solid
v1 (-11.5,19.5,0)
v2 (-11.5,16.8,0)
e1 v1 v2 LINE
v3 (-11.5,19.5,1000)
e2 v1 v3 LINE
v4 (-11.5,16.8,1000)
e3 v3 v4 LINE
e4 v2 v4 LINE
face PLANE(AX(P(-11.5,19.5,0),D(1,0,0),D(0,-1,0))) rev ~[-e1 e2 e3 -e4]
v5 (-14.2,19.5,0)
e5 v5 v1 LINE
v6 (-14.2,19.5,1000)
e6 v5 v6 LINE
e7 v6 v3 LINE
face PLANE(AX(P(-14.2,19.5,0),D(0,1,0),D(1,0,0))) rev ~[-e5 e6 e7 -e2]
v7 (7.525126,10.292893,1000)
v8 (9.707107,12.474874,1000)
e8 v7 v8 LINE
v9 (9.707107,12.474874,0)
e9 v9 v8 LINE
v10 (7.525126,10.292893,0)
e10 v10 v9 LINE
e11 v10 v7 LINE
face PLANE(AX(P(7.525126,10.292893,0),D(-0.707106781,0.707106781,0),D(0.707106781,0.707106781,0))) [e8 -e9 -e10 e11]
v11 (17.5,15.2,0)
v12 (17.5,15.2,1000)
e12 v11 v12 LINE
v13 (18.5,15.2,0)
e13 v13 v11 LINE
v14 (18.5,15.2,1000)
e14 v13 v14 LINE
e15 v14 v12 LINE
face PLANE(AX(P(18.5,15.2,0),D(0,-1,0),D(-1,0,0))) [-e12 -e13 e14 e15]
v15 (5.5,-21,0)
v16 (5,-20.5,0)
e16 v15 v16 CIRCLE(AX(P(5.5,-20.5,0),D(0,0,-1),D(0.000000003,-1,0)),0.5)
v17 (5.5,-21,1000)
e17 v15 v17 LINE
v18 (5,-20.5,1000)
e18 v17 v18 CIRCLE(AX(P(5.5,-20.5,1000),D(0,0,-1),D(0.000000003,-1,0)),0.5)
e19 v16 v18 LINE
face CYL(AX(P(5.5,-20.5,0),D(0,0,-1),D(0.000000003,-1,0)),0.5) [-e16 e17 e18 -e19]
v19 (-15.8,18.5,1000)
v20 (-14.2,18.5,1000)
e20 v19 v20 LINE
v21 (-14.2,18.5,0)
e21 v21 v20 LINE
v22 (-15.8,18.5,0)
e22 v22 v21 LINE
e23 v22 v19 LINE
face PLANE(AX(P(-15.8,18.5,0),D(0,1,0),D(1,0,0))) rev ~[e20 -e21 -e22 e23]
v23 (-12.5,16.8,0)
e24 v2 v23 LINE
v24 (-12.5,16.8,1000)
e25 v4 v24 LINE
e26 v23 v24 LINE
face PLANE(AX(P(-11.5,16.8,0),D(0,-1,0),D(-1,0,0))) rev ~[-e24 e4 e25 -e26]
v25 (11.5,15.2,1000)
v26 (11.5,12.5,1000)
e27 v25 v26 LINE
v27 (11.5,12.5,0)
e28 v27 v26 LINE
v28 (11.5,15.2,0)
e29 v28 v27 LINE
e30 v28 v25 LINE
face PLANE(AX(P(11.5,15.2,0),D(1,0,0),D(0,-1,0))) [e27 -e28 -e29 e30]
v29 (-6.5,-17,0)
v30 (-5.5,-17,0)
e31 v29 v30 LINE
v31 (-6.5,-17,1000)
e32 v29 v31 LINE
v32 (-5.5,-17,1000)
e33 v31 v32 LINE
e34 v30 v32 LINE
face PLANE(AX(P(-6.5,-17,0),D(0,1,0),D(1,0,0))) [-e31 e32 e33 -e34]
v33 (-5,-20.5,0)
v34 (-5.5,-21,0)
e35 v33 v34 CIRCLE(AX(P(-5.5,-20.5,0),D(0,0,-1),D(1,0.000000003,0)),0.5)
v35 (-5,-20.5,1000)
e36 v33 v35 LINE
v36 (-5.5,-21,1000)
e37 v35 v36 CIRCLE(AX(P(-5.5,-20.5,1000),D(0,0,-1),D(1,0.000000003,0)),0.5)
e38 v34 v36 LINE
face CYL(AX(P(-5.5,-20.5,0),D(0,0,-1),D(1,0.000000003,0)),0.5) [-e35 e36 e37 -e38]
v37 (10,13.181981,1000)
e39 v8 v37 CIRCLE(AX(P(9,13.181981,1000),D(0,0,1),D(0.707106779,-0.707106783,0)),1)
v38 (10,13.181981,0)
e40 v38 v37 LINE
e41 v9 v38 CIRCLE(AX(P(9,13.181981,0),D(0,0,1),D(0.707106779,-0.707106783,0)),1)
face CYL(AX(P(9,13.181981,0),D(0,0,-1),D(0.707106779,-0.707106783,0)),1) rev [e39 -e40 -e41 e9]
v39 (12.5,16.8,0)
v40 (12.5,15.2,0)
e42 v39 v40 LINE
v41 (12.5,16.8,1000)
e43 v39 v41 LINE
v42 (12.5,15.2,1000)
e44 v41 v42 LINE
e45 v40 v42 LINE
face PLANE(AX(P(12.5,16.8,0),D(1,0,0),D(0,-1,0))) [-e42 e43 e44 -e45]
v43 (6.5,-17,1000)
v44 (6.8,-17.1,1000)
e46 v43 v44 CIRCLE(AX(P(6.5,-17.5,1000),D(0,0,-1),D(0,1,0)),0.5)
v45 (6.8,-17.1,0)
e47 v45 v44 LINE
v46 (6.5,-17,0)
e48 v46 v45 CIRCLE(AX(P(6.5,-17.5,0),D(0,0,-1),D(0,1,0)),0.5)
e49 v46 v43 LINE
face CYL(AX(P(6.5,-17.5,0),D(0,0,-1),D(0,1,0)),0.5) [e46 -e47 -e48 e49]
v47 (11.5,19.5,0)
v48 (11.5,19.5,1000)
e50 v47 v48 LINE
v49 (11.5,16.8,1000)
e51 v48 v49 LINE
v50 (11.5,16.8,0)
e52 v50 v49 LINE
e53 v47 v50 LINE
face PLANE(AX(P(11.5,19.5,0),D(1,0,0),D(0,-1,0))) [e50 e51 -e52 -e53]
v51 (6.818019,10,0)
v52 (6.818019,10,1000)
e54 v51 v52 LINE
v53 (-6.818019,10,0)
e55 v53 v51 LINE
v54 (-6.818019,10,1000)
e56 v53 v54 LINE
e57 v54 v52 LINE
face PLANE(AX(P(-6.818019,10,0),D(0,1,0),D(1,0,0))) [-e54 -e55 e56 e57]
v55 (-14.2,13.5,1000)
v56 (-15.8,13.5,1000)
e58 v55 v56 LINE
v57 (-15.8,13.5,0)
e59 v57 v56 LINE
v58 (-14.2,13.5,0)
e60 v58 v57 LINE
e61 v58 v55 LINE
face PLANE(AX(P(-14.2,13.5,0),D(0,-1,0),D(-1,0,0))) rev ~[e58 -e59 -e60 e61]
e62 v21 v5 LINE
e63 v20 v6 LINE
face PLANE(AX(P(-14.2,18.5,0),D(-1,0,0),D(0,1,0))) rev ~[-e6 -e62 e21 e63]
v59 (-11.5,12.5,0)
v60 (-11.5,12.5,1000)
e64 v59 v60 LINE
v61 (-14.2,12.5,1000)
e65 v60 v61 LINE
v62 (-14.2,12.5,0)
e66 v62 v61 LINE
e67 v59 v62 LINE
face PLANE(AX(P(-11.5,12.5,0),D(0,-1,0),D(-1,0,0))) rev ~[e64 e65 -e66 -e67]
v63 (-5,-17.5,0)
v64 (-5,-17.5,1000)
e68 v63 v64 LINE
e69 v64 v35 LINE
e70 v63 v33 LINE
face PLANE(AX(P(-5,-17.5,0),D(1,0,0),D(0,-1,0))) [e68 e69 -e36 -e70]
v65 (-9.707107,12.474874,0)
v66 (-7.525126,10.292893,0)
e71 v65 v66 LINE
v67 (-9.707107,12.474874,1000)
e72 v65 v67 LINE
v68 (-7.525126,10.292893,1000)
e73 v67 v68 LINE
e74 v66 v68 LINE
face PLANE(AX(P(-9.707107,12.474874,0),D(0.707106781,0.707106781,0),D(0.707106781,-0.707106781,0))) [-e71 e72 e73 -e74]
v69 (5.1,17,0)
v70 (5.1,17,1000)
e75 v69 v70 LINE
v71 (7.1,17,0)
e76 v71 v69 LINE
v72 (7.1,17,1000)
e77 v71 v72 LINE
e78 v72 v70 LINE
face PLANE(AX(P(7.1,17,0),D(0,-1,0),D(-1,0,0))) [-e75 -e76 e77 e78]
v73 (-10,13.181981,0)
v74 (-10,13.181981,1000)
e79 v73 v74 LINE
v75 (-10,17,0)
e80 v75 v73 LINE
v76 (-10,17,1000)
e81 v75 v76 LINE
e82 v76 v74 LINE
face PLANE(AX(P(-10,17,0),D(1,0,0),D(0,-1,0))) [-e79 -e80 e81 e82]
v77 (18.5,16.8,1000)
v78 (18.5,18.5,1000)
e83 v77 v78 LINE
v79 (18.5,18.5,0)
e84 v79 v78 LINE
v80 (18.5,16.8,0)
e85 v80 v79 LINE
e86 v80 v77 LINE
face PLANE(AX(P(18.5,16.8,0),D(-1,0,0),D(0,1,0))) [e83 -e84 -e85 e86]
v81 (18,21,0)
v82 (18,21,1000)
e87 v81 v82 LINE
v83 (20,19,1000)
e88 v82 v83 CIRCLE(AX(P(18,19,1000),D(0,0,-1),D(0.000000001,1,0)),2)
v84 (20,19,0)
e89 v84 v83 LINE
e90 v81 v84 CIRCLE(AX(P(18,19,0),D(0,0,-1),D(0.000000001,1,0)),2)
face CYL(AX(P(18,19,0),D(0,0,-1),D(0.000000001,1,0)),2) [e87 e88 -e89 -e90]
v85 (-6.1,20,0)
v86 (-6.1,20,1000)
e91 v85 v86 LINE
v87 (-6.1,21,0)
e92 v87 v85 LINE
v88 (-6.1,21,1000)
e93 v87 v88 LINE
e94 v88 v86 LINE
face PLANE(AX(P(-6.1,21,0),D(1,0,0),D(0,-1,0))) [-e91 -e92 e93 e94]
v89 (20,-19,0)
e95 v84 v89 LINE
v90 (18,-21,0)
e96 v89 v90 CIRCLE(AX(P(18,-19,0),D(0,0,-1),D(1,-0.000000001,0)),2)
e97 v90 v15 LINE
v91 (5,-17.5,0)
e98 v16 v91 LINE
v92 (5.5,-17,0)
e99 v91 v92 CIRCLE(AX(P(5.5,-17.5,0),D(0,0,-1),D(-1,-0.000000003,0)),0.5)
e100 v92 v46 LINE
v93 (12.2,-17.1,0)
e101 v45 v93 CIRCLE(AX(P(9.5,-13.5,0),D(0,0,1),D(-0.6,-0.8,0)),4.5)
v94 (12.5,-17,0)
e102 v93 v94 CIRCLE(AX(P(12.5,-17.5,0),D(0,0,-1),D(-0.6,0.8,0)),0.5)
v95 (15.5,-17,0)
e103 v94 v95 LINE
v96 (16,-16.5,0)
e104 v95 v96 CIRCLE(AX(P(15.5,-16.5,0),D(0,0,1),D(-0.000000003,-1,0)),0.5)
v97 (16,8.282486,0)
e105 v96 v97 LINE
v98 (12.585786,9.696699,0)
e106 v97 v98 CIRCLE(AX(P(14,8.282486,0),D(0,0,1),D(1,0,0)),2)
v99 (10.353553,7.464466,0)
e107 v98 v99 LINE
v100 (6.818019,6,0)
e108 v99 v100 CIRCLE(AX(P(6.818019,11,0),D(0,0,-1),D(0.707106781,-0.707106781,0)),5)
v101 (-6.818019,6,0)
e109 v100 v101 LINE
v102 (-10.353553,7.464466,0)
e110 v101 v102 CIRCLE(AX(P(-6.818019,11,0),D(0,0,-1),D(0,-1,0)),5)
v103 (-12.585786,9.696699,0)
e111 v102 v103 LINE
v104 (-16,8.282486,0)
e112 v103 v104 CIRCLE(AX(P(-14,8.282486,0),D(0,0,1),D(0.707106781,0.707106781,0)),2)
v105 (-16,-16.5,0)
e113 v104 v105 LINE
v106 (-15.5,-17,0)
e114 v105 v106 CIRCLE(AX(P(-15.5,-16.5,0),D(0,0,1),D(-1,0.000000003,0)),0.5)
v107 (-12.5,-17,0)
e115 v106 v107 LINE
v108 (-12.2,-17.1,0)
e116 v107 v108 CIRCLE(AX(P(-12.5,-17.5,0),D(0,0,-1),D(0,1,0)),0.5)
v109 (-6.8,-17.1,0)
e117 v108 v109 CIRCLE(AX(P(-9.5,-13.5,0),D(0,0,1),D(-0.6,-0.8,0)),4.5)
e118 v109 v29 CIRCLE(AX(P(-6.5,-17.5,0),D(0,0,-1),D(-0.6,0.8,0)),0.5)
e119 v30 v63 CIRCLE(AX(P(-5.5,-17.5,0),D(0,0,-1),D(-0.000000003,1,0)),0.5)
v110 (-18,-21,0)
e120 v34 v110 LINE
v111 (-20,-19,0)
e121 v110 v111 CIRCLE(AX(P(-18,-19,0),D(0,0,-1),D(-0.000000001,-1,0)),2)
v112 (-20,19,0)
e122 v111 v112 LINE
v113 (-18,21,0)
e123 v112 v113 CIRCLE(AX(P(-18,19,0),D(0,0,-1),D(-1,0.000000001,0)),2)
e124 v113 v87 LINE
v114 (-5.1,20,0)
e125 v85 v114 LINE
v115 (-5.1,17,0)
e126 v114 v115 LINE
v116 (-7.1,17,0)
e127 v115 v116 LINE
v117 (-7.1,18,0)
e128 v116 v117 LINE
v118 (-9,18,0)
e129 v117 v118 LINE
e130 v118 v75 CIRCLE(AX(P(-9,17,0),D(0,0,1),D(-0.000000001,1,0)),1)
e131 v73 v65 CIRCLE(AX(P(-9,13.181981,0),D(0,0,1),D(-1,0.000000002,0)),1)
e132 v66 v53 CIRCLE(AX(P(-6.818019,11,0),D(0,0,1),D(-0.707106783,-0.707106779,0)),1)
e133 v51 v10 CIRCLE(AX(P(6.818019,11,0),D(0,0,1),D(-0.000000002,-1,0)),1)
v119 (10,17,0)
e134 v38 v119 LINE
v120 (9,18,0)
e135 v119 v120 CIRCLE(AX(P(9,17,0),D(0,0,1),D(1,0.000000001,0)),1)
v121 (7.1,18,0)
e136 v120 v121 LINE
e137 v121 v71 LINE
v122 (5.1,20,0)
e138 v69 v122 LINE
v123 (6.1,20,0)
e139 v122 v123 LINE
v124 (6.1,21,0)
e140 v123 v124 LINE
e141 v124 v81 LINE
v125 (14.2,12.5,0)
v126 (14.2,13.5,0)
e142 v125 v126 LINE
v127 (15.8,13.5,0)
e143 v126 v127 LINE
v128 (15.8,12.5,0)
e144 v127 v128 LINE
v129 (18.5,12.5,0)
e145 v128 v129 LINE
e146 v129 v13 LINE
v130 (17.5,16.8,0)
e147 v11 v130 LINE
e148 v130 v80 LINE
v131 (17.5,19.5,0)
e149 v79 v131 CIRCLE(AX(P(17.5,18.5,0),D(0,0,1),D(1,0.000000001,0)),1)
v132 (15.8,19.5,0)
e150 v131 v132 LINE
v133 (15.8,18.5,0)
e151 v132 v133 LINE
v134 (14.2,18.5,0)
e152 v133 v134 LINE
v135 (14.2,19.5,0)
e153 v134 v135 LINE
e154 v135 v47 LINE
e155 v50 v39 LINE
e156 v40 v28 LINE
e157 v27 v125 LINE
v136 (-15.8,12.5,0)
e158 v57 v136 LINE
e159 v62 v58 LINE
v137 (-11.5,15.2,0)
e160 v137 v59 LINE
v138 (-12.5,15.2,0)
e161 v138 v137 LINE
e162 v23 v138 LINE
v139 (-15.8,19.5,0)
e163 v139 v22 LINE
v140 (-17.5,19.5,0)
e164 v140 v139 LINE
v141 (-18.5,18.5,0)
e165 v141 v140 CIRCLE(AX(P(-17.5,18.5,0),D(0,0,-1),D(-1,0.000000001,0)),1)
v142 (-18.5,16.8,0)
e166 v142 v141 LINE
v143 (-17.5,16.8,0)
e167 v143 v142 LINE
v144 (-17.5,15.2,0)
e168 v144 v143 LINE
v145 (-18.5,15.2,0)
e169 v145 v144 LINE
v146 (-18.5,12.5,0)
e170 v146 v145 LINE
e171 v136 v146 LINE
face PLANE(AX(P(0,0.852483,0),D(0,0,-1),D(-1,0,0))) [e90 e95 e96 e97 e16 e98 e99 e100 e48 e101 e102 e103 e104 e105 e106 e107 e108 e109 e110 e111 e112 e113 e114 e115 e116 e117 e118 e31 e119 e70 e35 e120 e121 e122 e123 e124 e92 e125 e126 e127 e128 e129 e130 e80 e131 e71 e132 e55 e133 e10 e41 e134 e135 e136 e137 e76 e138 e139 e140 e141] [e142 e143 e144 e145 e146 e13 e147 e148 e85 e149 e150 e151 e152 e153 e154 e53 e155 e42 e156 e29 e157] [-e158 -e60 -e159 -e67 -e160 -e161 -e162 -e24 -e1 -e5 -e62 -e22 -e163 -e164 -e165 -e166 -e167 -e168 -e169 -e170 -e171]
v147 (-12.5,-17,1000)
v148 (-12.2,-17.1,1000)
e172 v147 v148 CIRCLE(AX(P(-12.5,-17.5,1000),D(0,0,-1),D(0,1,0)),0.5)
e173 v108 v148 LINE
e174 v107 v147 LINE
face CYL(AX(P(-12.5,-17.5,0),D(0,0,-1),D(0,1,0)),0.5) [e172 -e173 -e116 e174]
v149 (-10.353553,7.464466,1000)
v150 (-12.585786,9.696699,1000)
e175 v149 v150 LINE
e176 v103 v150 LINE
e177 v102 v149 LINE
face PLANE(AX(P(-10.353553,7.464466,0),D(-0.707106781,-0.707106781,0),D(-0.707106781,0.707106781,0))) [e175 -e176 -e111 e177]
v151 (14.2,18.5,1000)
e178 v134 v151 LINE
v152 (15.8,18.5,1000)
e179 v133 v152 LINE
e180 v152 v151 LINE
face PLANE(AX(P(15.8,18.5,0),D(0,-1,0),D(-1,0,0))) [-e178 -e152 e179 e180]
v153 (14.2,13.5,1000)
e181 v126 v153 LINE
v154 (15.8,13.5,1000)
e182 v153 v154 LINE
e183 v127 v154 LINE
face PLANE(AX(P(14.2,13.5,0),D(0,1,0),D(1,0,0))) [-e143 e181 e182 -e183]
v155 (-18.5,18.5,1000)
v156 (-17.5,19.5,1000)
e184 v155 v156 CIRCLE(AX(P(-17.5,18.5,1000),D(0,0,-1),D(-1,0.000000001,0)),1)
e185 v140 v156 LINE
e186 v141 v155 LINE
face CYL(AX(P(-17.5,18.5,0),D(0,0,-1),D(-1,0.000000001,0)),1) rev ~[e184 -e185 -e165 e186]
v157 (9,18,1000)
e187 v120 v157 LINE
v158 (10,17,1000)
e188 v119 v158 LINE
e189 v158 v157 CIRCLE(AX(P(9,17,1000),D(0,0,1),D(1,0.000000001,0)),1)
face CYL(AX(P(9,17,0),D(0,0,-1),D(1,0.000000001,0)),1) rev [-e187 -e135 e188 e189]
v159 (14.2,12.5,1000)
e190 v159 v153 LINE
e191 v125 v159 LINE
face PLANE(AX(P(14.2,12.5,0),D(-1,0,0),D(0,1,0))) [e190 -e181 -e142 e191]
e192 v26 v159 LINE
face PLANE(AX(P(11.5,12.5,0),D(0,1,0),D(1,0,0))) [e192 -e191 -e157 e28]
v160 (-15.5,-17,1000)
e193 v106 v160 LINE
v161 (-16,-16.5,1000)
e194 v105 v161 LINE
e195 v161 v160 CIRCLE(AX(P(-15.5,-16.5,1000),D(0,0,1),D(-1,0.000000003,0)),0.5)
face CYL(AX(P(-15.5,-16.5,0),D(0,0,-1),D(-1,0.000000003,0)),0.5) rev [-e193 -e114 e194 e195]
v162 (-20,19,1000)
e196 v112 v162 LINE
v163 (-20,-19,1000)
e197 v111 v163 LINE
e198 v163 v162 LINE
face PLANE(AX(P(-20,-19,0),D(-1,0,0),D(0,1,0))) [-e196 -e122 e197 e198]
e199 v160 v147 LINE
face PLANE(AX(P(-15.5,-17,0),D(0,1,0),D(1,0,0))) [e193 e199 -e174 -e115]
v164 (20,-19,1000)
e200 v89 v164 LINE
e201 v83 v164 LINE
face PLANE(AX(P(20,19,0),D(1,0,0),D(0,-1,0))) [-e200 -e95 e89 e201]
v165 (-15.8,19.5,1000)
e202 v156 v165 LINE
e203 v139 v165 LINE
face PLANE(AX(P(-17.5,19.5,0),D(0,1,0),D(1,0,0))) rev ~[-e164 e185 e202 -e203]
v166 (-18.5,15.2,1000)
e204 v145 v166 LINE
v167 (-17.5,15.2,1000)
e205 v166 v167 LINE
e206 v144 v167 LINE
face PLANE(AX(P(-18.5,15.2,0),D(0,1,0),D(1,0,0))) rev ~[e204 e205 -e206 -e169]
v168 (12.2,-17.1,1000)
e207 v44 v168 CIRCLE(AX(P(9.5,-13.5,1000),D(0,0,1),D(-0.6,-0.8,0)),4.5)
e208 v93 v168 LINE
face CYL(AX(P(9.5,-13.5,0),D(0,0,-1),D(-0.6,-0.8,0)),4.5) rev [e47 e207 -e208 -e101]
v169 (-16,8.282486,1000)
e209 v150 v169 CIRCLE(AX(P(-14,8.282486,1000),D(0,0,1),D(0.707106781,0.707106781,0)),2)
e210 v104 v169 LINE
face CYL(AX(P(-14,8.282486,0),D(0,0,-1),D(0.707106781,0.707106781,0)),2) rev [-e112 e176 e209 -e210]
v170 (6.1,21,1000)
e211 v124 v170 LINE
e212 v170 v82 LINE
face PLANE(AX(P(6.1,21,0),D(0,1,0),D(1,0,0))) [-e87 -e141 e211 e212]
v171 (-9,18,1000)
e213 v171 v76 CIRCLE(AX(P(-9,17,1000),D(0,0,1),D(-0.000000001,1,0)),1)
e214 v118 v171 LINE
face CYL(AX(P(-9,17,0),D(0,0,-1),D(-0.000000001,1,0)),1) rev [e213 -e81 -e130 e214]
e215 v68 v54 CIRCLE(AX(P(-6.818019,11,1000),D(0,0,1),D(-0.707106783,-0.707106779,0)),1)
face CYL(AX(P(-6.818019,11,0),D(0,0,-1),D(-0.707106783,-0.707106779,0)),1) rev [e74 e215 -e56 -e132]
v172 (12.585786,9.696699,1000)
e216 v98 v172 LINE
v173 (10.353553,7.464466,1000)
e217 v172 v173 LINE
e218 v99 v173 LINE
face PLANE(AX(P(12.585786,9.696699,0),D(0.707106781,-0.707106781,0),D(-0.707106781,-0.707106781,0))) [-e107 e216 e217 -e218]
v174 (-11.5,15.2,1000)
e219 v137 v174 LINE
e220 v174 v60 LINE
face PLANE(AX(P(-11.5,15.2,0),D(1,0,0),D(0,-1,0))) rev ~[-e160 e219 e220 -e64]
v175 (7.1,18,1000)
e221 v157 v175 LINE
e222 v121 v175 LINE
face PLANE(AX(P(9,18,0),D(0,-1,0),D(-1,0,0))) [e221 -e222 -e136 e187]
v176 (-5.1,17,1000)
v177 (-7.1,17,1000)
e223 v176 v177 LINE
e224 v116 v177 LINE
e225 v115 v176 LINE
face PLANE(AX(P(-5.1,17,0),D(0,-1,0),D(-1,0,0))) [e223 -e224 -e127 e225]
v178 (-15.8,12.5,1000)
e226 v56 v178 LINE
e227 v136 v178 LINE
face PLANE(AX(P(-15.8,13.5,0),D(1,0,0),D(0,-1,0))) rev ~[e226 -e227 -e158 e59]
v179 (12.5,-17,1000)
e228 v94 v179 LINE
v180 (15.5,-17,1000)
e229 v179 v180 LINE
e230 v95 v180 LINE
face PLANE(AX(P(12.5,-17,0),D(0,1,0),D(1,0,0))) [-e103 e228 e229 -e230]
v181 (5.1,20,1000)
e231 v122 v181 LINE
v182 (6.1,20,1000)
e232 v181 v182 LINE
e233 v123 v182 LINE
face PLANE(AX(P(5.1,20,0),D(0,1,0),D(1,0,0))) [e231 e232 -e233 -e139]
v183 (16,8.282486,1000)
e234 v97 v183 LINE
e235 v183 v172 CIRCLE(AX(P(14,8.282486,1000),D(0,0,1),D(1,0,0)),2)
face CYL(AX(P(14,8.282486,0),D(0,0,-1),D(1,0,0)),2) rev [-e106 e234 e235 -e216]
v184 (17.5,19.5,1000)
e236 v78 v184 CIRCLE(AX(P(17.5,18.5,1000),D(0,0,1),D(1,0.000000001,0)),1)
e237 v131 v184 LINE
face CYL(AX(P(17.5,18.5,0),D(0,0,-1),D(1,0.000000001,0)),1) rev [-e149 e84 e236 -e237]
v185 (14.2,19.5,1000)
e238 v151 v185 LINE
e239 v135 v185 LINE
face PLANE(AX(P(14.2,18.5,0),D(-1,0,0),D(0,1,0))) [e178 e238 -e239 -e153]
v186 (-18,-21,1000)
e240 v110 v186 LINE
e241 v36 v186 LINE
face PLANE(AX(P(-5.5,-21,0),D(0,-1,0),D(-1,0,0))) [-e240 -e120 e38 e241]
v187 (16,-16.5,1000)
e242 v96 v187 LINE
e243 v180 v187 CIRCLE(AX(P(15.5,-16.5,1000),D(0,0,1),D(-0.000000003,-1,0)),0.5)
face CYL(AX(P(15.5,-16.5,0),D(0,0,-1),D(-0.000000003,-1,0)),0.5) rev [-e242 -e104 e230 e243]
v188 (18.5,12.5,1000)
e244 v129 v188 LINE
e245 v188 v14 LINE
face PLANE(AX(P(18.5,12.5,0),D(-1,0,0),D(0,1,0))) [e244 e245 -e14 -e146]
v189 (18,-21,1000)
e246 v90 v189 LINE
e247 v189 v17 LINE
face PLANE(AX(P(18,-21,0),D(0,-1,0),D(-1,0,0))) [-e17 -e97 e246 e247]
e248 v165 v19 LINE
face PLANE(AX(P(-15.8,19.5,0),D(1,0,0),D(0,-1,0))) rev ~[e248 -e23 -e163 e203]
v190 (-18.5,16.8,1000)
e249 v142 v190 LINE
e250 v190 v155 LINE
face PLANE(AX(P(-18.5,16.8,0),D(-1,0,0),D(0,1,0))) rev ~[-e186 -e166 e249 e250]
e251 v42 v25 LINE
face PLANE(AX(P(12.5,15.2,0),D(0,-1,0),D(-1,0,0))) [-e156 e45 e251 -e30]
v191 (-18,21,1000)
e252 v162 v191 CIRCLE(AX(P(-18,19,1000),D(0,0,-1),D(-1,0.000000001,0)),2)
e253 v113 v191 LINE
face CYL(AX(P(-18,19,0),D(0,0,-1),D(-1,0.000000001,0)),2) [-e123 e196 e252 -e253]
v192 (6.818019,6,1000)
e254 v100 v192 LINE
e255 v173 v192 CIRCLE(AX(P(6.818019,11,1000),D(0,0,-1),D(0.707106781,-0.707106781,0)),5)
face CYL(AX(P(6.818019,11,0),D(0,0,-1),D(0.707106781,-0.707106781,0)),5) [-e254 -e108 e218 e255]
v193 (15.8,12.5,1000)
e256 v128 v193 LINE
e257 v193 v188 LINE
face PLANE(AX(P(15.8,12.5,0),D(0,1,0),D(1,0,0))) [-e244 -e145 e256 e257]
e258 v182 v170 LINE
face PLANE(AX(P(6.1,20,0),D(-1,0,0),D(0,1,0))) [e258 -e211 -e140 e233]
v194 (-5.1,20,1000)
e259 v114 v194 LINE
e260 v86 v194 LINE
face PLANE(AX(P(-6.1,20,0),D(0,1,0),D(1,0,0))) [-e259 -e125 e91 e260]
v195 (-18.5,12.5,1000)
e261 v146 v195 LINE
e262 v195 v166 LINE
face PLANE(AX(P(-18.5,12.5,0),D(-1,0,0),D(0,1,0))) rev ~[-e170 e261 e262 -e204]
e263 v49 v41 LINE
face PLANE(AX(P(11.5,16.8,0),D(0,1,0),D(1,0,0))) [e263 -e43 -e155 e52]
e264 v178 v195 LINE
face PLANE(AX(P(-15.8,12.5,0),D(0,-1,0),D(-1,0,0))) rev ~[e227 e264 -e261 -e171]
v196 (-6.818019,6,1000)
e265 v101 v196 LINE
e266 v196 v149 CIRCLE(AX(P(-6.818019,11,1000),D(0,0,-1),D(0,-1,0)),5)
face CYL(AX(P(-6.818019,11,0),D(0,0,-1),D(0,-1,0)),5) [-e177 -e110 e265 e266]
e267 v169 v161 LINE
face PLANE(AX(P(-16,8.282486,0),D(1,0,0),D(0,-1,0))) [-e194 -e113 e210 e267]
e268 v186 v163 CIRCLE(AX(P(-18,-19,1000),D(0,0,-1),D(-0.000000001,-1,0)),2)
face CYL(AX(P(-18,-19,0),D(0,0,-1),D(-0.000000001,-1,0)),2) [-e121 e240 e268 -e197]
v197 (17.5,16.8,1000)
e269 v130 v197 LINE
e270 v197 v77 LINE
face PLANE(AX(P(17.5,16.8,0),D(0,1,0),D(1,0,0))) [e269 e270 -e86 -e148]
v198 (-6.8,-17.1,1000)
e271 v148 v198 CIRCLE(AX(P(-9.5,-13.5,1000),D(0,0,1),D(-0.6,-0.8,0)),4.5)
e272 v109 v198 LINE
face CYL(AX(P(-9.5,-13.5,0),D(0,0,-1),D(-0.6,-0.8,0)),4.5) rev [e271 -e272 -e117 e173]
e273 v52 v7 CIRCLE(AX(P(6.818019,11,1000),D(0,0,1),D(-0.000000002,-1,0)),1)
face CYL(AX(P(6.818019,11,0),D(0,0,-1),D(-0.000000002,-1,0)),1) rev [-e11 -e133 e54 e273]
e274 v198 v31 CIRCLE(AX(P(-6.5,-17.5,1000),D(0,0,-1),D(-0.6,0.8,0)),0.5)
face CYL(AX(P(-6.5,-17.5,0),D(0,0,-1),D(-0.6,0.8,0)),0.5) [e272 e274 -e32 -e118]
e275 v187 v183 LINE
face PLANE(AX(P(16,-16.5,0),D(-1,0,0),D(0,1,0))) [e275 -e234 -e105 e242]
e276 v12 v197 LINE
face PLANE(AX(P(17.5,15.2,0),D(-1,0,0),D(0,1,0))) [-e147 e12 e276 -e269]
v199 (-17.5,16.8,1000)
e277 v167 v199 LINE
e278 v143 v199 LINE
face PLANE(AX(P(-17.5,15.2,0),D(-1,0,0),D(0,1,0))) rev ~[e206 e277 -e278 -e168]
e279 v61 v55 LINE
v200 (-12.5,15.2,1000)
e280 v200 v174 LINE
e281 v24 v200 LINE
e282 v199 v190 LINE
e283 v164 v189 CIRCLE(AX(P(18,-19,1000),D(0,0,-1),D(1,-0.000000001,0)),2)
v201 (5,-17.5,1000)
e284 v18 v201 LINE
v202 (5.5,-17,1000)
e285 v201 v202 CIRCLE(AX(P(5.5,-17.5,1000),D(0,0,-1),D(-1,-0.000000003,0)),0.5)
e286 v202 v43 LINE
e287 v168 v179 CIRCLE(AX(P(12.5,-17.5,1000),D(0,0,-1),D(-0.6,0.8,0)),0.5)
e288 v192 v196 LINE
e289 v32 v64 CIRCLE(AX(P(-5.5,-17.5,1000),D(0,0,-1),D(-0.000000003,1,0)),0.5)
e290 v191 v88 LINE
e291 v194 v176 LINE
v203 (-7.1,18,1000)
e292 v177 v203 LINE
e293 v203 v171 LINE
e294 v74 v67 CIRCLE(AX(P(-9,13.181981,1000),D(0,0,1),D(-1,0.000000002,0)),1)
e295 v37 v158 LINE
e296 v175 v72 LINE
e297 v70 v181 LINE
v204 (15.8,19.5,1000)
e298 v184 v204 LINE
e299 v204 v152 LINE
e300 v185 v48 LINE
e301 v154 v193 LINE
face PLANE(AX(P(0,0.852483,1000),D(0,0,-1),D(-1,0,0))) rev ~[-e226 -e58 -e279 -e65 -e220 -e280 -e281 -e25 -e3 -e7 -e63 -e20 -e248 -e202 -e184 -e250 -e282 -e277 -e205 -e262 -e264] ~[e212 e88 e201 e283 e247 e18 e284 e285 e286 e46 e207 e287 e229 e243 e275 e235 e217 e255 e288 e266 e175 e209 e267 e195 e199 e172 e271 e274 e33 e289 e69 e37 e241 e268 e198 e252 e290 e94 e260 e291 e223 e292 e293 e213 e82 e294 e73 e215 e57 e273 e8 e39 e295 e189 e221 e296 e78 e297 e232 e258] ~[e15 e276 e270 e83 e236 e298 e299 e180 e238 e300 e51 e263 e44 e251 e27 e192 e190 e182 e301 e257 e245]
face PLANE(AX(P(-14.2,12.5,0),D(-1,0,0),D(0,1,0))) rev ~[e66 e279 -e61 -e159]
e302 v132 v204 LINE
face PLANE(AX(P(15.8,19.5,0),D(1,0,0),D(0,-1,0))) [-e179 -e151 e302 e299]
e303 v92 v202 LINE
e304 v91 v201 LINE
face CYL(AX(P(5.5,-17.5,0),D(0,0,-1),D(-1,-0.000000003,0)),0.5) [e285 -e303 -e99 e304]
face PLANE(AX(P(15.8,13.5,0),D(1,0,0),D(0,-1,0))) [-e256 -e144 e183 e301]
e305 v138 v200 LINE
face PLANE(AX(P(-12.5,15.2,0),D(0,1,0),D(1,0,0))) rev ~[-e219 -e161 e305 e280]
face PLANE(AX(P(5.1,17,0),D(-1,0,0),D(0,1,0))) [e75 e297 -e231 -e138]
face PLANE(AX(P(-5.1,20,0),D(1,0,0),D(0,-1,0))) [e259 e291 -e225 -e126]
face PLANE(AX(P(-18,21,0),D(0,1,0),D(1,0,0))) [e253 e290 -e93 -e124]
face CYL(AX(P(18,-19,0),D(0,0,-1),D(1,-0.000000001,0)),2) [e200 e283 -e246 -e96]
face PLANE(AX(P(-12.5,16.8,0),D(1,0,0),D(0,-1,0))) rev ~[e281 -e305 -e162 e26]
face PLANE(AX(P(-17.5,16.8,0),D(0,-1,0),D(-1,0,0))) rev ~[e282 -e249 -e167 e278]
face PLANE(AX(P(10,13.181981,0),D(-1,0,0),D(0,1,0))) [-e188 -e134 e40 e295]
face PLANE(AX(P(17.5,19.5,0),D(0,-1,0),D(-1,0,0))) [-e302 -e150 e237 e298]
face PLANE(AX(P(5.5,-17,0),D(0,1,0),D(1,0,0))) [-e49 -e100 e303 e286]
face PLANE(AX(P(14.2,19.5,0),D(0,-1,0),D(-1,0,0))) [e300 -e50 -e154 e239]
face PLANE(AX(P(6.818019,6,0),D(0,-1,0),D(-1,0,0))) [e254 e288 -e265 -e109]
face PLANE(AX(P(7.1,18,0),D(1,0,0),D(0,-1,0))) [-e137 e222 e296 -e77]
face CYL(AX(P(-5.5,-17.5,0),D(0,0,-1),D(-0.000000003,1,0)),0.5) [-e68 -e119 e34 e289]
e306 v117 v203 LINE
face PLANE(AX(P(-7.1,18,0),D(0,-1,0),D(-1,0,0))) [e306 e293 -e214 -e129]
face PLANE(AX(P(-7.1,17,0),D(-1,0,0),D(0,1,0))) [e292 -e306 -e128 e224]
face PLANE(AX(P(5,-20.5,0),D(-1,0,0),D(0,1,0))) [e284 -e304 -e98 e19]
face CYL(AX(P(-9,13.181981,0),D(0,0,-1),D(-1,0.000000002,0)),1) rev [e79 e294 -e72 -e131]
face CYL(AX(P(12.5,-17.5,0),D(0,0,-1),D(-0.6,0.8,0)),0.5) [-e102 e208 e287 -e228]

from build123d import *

# Parameters (mm, degrees)
EXTRUDE_1_DEPTH = 1000


with BuildPart() as part:
    # Эскиз1 → Бобышка-Вытянуть1 (new body)
    with BuildSketch(Plane.XY):
        with BuildLine():
            Line((-15.5, -17), (-12.5, -17))
            ThreePointArc((-12.5, -17), (-12.341886117, -17.025658351), (-12.2, -17.1))
            ThreePointArc((-12.2, -17.1), (-9.5, -18), (-6.8, -17.1))
            ThreePointArc((-6.8, -17.1), (-6.658113883, -17.025658351), (-6.5, -17))
            Line((-6.5, -17), (-5.5, -17))
            ThreePointArc((-5.5, -17), (-5.146446609, -17.146446609), (-5, -17.5))
            Line((-5, -17.5), (-5, -20.5))
            ThreePointArc((-5, -20.5), (-5.146446609, -20.853553391), (-5.5, -21))
            Line((-5.5, -21), (-18, -21))
            ThreePointArc((-18, -21), (-19.414213562, -20.414213562), (-20, -19))
            Line((-20, -19), (-20, 19))
            ThreePointArc((-20, 19), (-19.414213562, 20.414213562), (-18, 21))
            Line((-18, 21), (-6.1, 21))
            Line((-6.1, 21), (-6.1, 20))
            Line((-6.1, 20), (-5.1, 20))
            Line((-5.1, 20), (-5.1, 17))
            Line((-5.1, 17), (-7.1, 17))
            Line((-7.1, 17), (-7.1, 18))
            Line((-7.1, 18), (-9, 18))
            ThreePointArc((-9, 18), (-9.707106781, 17.707106781), (-10, 17))
            Line((-10, 17), (-10, 13.181980515))
            ThreePointArc((-10, 13.181980515), (-9.923879533, 12.799297083), (-9.707106781, 12.474873734))
            Line((-9.707106781, 12.474873734), (-7.525126266, 10.292893219))
            ThreePointArc((-7.525126266, 10.292893219), (-7.200702917, 10.076120467), (-6.818019485, 10))
            Line((-6.818019485, 10), (6.818019485, 10))
            ThreePointArc((6.818019485, 10), (7.200702917, 10.076120467), (7.525126266, 10.292893219))
            Line((7.525126266, 10.292893219), (9.707106781, 12.474873734))
            ThreePointArc((9.707106781, 12.474873734), (9.923879533, 12.799297083), (10, 13.181980515))
            Line((10, 13.181980515), (10, 17))
            ThreePointArc((10, 17), (9.707106781, 17.707106781), (9, 18))
            Line((9, 18), (7.1, 18))
            Line((7.1, 18), (7.1, 17))
            Line((7.1, 17), (5.1, 17))
            Line((5.1, 17), (5.1, 20))
            Line((5.1, 20), (6.1, 20))
            Line((6.1, 20), (6.1, 21))
            Line((6.1, 21), (18, 21))
            ThreePointArc((18, 21), (19.414213562, 20.414213562), (20, 19))
            Line((20, 19), (20, -19))
            ThreePointArc((20, -19), (19.414213562, -20.414213562), (18, -21))
            Line((18, -21), (5.5, -21))
            ThreePointArc((5.5, -21), (5.146446609, -20.853553391), (5, -20.5))
            Line((5, -20.5), (5, -17.5))
            ThreePointArc((5, -17.5), (5.146446609, -17.146446609), (5.5, -17))
            Line((5.5, -17), (6.5, -17))
            ThreePointArc((6.5, -17), (6.658113883, -17.025658351), (6.8, -17.1))
            ThreePointArc((6.8, -17.1), (9.5, -18), (12.2, -17.1))
            ThreePointArc((12.2, -17.1), (12.341886117, -17.025658351), (12.5, -17))
            Line((12.5, -17), (15.5, -17))
            ThreePointArc((15.5, -17), (15.853553391, -16.853553391), (16, -16.5))
            Line((16, -16.5), (16, 8.282485579))
            ThreePointArc((16, 8.282485579), (14.765366865, 10.130244644), (12.585786438, 9.696699141))
            Line((12.585786438, 9.696699141), (10.353553391, 7.464466094))
            ThreePointArc((10.353553391, 7.464466094), (8.731436646, 6.380602337), (6.818019485, 6))
            Line((6.818019485, 6), (-6.818019485, 6))
            ThreePointArc((-6.818019485, 6), (-8.731436646, 6.380602337), (-10.353553391, 7.464466094))
            Line((-10.353553391, 7.464466094), (-12.585786438, 9.696699141))
            ThreePointArc((-12.585786438, 9.696699141), (-14.765366865, 10.130244644), (-16, 8.282485579))
            Line((-16, 8.282485579), (-16, -16.5))
            ThreePointArc((-16, -16.5), (-15.853553391, -16.853553391), (-15.5, -17))
        make_face()
        with BuildLine():
            Line((-11.5, 12.5), (-14.2, 12.5))
            Line((-14.2, 12.5), (-14.2, 13.5))
            Line((-14.2, 13.5), (-15.8, 13.5))
            Line((-15.8, 13.5), (-15.8, 12.5))
            Line((-15.8, 12.5), (-18.5, 12.5))
            Line((-18.5, 12.5), (-18.5, 15.2))
            Line((-18.5, 15.2), (-17.5, 15.2))
            Line((-17.5, 15.2), (-17.5, 16.8))
            Line((-17.5, 16.8), (-18.5, 16.8))
            Line((-18.5, 16.8), (-18.5, 18.5))
            ThreePointArc((-18.5, 18.5), (-18.207106781, 19.207106781), (-17.5, 19.5))
            Line((-17.5, 19.5), (-15.8, 19.5))
            Line((-15.8, 19.5), (-15.8, 18.5))
            Line((-15.8, 18.5), (-14.2, 18.5))
            Line((-14.2, 18.5), (-14.2, 19.5))
            Line((-14.2, 19.5), (-11.5, 19.5))
            Line((-11.5, 19.5), (-11.5, 16.8))
            Line((-11.5, 16.8), (-12.5, 16.8))
            Line((-12.5, 16.8), (-12.5, 15.2))
            Line((-12.5, 15.2), (-11.5, 15.2))
            Line((-11.5, 15.2), (-11.5, 12.5))
        make_face(mode=Mode.SUBTRACT)
        with BuildLine():
            Line((17.5, 16.8), (18.5, 16.8))
            Line((18.5, 16.8), (18.5, 18.5))
            ThreePointArc((18.5, 18.5), (18.207106781, 19.207106781), (17.5, 19.5))
            Line((17.5, 19.5), (15.8, 19.5))
            Line((15.8, 19.5), (15.8, 18.5))
            Line((15.8, 18.5), (14.2, 18.5))
            Line((14.2, 18.5), (14.2, 19.5))
            Line((14.2, 19.5), (11.5, 19.5))
            Line((11.5, 19.5), (11.5, 16.8))
            Line((11.5, 16.8), (12.5, 16.8))
            Line((12.5, 16.8), (12.5, 15.2))
            Line((12.5, 15.2), (11.5, 15.2))
            Line((11.5, 15.2), (11.5, 12.5))
            Line((11.5, 12.5), (14.2, 12.5))
            Line((14.2, 12.5), (14.2, 13.5))
            Line((14.2, 13.5), (15.8, 13.5))
            Line((15.8, 13.5), (15.8, 12.5))
            Line((15.8, 12.5), (18.5, 12.5))
            Line((18.5, 12.5), (18.5, 15.2))
            Line((18.5, 15.2), (17.5, 15.2))
            Line((17.5, 15.2), (17.5, 16.8))
        make_face(mode=Mode.SUBTRACT)
    extrude(amount=EXTRUDE_1_DEPTH)


solid = part.part
